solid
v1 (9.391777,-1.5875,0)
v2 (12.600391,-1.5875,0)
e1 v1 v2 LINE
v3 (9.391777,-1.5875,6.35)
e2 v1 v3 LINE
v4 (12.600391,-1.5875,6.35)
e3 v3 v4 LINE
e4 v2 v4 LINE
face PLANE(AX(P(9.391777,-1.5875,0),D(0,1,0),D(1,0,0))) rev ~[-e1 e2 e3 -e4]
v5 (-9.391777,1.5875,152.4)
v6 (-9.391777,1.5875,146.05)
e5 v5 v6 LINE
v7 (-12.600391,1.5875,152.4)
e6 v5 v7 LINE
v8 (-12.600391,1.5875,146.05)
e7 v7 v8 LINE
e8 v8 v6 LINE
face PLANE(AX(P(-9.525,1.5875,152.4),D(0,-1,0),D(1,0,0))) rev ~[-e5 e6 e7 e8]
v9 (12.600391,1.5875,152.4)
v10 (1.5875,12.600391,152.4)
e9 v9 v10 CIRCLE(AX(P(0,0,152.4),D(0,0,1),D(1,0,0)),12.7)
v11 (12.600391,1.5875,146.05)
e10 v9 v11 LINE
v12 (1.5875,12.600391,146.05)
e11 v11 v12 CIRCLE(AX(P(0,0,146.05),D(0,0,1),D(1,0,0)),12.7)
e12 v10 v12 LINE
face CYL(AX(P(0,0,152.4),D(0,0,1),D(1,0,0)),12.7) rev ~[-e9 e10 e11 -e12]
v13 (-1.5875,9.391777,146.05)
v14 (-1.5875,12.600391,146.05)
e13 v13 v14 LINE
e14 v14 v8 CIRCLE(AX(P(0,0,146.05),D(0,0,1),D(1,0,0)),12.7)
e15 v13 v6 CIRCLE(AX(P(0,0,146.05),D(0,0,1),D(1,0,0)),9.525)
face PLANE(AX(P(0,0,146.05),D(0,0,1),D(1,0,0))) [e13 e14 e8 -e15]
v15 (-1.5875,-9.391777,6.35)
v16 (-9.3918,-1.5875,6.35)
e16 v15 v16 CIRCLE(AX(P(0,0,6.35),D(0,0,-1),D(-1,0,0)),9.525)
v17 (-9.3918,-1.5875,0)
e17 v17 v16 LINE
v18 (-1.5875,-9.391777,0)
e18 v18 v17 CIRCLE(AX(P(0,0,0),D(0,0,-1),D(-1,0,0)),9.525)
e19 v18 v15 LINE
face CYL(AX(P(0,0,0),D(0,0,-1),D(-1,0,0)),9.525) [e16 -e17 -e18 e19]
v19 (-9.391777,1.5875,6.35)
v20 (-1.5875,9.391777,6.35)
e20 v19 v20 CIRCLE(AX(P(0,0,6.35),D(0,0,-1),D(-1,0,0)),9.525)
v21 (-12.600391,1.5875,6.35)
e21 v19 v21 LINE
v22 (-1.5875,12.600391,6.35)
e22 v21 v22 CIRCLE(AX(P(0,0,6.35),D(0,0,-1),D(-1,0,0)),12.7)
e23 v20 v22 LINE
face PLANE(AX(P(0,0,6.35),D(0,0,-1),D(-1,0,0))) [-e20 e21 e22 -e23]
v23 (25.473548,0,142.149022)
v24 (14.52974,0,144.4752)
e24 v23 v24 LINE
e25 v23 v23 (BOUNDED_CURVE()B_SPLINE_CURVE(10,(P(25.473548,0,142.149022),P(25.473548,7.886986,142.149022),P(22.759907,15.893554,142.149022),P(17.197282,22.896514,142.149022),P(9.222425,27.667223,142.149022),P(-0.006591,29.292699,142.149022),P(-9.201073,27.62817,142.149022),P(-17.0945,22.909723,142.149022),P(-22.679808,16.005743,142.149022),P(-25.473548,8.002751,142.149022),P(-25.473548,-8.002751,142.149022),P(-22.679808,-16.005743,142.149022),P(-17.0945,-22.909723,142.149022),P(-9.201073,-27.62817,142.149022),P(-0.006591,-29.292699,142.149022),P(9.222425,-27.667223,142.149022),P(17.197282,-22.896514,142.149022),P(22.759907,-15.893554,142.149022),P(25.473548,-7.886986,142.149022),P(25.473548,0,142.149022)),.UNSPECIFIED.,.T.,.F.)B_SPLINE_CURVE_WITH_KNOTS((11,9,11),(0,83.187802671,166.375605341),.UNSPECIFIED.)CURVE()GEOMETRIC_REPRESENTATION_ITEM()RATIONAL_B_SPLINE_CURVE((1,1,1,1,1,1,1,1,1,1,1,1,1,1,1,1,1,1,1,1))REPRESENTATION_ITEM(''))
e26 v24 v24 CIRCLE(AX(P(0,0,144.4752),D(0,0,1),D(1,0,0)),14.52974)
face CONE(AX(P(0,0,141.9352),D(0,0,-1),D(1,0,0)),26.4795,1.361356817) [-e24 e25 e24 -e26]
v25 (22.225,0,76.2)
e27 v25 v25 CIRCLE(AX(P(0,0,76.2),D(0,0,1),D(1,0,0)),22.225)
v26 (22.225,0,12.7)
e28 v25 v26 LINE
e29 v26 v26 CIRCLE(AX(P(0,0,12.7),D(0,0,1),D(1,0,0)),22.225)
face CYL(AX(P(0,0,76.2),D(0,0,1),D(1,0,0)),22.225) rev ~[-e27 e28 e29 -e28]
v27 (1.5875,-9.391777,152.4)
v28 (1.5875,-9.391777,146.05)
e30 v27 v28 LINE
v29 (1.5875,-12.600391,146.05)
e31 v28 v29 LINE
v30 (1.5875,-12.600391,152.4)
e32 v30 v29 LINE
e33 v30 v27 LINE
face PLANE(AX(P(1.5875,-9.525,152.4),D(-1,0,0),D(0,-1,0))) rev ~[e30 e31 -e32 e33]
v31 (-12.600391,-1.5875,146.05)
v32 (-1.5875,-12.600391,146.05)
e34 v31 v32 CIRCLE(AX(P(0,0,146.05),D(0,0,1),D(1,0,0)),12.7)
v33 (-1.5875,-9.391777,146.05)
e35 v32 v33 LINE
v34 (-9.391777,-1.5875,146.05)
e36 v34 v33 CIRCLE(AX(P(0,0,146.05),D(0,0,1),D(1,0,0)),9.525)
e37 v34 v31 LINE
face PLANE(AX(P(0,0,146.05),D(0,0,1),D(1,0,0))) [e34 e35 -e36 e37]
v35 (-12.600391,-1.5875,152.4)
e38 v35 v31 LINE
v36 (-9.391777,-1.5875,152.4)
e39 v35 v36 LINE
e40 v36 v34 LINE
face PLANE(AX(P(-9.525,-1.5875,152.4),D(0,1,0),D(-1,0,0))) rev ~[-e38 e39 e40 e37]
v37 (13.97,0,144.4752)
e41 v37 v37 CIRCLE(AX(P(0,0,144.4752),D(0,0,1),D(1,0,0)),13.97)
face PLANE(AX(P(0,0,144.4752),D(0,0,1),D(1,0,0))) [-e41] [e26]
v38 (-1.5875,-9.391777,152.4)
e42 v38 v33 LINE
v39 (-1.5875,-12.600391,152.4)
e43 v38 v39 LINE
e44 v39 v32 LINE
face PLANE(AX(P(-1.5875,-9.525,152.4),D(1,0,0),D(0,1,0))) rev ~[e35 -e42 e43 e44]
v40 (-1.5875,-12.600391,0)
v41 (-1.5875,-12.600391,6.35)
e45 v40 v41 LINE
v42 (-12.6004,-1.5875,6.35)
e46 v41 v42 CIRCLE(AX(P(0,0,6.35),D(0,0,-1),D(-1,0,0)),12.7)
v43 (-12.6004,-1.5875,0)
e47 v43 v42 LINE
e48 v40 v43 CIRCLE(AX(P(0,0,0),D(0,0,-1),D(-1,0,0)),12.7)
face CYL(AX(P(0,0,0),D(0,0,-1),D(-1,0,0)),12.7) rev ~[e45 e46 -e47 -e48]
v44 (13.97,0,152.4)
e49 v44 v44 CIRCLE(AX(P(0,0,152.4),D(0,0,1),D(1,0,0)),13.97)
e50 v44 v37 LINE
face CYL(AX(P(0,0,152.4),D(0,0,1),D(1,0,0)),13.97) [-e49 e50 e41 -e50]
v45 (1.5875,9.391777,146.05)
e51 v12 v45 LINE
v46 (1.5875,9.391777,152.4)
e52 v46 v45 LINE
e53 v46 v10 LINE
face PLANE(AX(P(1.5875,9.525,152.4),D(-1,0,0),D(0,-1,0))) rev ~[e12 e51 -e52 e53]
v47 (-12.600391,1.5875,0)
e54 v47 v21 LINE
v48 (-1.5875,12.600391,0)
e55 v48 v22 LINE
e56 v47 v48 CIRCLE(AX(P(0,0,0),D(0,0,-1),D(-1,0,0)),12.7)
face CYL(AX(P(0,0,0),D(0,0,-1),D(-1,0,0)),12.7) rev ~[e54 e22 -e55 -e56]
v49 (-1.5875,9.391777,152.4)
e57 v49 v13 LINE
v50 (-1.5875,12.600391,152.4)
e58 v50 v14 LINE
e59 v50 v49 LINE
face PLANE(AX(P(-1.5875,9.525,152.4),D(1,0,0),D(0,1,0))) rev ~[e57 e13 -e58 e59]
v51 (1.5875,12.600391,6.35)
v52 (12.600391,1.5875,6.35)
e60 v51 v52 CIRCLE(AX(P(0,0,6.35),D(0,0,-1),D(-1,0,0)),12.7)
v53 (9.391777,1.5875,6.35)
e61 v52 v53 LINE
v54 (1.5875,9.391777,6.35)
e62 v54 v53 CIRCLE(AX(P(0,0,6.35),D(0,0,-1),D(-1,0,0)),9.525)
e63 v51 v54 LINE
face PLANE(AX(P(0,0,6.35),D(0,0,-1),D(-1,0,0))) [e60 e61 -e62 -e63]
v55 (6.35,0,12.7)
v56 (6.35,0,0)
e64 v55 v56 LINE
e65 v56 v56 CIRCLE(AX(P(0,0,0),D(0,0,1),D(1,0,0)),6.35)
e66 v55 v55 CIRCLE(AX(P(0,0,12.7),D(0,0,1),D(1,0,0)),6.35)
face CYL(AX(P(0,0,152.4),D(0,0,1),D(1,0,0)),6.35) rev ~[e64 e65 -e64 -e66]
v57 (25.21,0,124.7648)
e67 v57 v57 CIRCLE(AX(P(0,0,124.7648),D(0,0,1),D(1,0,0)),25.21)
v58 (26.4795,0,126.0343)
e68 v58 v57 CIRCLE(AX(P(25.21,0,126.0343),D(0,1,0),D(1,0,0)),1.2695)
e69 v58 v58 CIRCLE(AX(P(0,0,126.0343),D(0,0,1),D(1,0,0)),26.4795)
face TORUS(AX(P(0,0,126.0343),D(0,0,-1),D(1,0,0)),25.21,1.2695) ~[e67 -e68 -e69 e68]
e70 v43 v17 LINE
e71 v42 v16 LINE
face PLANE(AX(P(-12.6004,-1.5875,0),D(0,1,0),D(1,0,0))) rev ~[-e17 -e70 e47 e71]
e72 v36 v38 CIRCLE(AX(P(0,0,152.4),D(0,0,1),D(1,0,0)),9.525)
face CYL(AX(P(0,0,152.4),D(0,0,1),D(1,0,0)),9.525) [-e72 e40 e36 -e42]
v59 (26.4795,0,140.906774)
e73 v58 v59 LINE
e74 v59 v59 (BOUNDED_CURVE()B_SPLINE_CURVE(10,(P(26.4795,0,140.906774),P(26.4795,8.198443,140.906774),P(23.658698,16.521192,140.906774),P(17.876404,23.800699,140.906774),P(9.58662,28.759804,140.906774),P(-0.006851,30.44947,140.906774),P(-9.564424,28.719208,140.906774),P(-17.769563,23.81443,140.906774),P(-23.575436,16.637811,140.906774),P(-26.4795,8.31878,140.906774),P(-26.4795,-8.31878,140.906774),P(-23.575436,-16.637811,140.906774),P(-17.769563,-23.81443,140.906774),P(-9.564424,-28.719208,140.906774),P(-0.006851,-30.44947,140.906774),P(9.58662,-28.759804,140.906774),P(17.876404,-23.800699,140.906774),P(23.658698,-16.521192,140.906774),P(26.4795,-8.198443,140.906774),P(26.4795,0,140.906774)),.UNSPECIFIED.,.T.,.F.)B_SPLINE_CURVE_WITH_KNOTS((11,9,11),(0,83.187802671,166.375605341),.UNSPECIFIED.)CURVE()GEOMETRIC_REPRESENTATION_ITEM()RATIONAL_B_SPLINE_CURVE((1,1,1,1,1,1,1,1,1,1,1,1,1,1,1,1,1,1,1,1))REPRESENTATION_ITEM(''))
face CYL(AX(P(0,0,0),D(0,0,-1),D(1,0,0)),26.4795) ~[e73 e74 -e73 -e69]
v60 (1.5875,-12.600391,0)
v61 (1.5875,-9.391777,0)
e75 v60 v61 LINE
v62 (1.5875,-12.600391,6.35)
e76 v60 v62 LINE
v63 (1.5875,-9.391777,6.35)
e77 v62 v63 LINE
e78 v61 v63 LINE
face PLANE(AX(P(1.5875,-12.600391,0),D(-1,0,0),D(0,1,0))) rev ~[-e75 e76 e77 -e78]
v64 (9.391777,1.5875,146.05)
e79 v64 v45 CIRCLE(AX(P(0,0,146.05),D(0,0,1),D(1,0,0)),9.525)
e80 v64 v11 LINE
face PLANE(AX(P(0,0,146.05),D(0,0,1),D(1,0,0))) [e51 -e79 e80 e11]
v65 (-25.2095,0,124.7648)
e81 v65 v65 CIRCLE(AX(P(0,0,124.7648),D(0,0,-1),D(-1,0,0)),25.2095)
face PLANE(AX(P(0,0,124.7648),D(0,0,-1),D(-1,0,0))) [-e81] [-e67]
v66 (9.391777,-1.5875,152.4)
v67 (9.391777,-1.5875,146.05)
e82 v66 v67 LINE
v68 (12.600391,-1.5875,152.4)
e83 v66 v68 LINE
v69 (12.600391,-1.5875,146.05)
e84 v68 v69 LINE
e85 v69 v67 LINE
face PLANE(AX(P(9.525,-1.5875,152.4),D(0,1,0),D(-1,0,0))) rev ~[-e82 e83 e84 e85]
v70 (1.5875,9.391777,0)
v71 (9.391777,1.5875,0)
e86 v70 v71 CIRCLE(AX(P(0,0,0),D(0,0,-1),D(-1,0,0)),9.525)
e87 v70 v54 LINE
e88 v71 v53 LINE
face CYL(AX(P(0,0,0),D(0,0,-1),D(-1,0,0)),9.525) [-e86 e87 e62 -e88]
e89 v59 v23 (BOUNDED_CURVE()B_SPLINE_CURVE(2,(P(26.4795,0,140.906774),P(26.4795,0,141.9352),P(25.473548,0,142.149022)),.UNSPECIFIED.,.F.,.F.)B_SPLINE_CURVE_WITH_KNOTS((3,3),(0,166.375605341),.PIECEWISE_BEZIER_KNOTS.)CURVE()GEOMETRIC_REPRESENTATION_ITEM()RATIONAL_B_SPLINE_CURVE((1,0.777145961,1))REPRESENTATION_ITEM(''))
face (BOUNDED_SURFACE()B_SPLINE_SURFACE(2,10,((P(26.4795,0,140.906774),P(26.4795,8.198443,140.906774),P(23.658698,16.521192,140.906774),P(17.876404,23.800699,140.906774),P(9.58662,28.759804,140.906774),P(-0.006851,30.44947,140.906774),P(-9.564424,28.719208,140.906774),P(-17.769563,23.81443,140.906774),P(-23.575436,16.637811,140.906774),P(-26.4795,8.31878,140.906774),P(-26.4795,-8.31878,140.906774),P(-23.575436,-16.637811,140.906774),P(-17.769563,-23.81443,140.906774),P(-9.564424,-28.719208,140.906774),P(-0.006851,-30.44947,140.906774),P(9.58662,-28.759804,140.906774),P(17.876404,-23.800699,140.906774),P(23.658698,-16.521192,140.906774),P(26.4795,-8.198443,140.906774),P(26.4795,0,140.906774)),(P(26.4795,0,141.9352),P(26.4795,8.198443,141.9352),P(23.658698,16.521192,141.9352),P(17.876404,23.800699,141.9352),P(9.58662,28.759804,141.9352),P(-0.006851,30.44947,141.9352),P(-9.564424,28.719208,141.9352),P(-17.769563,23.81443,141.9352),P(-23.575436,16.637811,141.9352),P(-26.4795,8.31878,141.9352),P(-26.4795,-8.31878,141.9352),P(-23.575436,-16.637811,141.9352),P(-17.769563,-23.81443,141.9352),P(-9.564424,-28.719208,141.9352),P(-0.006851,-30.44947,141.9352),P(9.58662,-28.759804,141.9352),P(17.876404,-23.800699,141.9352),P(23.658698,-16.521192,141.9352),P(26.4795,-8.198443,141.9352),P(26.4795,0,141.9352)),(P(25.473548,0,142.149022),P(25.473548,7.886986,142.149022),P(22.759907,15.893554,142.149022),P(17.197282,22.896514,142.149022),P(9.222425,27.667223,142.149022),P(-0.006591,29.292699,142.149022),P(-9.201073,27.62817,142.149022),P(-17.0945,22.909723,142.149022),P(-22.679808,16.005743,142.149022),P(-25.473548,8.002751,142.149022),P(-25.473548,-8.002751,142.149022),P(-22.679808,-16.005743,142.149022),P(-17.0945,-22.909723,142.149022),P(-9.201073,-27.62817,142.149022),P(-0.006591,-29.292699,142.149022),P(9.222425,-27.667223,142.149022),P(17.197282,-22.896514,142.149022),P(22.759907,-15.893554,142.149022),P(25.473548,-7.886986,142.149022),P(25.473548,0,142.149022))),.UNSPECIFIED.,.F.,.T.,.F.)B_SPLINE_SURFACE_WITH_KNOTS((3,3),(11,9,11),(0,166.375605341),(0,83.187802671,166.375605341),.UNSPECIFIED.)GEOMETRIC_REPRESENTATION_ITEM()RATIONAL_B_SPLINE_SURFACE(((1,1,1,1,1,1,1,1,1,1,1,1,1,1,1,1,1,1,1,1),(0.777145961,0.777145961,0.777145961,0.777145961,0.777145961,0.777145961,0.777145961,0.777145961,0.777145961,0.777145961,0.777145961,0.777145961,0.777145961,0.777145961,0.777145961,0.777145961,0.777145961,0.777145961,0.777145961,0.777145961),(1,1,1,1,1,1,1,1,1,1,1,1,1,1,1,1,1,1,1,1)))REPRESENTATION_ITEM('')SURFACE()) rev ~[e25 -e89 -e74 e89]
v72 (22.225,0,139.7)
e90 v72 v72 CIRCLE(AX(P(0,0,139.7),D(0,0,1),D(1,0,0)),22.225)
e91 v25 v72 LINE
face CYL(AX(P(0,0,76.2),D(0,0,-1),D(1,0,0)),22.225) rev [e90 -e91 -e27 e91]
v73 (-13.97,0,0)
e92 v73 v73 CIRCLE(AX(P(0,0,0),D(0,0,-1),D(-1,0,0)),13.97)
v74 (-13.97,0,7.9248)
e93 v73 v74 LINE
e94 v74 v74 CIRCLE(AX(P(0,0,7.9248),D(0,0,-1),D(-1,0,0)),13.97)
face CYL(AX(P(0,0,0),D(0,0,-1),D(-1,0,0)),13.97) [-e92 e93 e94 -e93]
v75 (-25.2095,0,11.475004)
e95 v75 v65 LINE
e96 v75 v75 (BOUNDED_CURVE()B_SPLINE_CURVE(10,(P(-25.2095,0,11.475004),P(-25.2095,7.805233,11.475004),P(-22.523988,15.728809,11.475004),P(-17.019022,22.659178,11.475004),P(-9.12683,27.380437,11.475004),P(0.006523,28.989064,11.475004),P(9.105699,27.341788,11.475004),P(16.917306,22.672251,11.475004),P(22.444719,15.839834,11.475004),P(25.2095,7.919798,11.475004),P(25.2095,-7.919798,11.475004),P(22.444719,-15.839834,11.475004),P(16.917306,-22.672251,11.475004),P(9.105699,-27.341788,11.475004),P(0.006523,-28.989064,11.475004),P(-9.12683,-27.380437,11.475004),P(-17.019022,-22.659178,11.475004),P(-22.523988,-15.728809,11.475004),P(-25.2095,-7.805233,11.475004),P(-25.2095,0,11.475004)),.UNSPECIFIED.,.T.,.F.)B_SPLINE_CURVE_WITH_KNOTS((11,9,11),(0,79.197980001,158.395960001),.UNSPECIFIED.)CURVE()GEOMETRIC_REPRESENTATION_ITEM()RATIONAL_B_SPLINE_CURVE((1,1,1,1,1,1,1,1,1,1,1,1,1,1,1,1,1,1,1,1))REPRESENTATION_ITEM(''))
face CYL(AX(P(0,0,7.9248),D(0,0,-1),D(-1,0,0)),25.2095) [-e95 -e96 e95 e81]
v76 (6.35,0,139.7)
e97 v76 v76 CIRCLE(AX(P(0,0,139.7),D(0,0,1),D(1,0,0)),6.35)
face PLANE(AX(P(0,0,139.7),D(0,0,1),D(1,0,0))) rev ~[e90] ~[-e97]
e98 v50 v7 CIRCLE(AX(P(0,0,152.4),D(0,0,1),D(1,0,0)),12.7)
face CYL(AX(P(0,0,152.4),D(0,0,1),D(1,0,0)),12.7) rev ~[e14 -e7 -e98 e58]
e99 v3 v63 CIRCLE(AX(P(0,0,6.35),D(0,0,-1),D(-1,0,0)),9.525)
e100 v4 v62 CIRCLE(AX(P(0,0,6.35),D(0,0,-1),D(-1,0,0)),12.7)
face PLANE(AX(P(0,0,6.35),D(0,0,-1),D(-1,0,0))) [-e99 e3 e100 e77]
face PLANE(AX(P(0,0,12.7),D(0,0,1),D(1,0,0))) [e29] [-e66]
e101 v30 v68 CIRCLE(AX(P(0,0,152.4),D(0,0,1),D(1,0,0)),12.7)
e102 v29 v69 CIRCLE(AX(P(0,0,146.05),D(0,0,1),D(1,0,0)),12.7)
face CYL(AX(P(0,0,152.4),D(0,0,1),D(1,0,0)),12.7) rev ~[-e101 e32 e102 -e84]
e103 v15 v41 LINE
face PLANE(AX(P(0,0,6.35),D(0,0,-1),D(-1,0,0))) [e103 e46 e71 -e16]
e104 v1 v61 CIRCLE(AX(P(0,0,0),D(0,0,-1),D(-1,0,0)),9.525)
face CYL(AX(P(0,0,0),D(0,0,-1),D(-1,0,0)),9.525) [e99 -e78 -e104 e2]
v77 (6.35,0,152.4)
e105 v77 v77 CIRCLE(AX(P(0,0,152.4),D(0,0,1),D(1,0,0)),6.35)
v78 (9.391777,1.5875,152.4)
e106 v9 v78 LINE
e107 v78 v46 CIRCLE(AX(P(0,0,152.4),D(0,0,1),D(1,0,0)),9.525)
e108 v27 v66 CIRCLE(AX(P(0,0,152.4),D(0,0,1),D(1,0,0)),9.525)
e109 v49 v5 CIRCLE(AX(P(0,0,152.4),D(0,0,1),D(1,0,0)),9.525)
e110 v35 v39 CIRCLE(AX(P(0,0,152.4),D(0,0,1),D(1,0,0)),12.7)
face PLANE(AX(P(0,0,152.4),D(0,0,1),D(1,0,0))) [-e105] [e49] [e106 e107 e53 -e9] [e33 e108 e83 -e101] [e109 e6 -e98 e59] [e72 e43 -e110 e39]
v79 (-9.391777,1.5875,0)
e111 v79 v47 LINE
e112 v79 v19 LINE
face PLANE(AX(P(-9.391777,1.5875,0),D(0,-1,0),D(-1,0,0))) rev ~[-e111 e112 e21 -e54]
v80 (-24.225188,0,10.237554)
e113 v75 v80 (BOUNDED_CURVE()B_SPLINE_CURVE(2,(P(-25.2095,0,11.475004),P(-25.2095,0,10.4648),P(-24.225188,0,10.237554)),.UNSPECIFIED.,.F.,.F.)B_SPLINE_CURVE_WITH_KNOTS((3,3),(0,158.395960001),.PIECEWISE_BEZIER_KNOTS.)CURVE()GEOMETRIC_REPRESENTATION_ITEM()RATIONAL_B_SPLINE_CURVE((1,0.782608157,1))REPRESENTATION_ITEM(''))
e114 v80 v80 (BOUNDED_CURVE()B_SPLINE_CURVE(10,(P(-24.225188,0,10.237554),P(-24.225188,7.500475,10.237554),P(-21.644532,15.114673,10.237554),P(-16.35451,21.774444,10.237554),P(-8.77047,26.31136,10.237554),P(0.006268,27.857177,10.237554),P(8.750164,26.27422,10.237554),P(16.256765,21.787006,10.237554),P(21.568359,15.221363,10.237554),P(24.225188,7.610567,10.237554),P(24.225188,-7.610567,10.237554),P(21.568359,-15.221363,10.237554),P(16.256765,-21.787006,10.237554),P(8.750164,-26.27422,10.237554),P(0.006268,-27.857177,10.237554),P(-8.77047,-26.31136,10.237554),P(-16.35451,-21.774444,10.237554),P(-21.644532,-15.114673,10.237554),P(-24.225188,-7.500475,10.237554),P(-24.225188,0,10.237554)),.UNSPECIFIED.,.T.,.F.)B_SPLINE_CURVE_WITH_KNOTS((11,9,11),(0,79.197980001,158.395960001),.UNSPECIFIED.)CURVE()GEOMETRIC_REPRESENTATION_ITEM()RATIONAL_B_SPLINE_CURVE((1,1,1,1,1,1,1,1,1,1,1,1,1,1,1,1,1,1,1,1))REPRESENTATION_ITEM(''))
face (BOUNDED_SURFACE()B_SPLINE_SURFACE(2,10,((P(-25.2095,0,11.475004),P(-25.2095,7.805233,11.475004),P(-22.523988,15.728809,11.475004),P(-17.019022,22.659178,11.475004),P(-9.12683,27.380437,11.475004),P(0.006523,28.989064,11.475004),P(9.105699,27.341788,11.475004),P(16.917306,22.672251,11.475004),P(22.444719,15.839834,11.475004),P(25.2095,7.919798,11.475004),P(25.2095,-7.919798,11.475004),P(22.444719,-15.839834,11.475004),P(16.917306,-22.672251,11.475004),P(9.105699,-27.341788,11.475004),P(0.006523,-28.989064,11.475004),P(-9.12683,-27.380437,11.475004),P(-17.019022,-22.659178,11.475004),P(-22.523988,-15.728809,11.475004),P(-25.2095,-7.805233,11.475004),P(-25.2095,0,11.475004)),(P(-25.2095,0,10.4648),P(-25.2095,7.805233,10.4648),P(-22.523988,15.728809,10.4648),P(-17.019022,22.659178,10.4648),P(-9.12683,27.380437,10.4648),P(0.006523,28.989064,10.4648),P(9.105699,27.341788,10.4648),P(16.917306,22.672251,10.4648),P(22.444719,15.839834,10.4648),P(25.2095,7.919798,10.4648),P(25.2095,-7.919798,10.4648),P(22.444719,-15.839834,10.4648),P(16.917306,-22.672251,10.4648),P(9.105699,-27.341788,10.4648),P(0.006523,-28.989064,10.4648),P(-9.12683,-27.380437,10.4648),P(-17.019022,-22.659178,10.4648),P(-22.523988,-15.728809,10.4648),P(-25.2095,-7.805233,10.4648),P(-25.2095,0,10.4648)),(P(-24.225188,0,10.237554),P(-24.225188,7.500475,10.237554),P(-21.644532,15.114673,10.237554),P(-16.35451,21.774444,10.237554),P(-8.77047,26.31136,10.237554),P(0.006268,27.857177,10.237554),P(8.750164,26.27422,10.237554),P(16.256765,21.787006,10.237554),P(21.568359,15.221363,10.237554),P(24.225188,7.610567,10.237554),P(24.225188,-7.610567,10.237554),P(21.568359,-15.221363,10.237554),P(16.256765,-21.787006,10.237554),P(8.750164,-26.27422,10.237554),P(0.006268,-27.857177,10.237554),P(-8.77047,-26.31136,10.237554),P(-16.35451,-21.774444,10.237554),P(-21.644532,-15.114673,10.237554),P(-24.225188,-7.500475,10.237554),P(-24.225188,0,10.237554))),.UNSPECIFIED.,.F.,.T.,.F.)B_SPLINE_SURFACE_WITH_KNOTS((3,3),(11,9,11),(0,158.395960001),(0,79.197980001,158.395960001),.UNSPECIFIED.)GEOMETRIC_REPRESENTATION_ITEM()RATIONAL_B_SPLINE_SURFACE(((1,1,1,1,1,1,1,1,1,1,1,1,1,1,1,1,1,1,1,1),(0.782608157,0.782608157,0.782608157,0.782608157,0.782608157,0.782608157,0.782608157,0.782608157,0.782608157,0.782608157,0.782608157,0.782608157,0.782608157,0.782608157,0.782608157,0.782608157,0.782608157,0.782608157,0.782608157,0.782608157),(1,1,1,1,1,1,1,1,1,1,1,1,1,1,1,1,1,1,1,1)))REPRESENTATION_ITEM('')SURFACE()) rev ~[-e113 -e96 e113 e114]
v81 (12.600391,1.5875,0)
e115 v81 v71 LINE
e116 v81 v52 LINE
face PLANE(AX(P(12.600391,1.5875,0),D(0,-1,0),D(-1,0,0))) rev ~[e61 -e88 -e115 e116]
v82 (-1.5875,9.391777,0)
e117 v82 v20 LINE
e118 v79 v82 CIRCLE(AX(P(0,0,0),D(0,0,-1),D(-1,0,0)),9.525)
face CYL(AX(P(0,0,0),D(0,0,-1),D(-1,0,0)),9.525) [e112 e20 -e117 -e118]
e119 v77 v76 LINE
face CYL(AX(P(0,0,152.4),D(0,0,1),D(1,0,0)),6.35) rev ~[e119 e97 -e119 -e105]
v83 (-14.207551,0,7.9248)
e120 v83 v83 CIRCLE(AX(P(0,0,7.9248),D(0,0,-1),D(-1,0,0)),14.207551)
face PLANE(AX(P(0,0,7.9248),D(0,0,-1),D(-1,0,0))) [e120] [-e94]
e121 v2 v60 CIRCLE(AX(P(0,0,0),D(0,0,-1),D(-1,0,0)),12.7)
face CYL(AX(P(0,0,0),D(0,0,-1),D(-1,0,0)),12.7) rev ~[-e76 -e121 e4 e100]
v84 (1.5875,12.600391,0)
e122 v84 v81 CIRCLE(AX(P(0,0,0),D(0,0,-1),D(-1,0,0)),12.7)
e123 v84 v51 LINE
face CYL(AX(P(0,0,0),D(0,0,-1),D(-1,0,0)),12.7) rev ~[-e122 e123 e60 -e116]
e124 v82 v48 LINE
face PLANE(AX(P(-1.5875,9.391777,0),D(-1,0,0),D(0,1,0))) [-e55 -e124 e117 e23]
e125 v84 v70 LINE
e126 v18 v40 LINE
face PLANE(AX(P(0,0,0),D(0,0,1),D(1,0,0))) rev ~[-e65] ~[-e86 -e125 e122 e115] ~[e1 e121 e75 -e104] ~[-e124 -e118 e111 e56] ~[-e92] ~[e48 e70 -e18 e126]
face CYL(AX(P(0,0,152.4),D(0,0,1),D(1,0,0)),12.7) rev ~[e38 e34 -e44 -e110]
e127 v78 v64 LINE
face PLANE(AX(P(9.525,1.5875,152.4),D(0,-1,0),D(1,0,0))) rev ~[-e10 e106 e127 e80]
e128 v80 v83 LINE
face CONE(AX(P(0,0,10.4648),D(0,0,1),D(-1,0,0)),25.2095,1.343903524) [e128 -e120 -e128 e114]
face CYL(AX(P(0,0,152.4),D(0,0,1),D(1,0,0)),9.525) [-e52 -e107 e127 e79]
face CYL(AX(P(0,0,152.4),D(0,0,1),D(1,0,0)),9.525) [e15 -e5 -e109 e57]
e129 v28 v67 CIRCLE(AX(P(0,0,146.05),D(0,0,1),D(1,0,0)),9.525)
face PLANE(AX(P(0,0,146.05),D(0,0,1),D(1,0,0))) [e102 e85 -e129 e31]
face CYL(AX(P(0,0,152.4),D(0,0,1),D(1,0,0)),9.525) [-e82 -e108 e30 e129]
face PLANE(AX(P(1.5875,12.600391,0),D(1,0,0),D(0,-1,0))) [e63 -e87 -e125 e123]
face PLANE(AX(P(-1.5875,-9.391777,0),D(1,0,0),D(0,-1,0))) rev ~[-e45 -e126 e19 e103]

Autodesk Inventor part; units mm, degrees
ref_plane "YZ Plane" through (0, 0, 0) normal (1, 0, 0) x (0, 1, 0)
ref_plane "XZ Plane" through (0, 0, 0) normal (0, 1, 0) x (-1, 0, 0)
ref_plane "XY Plane" through (0, 0, 0) normal (0, 0, 1) x (1, 0, 0)
sketch "Sketch1" plane through (0, 0, 0) normal (0, 0, 1) x (1, 0, 0)
  circle A0 centre (0, 0) radius 26.4795
  dimension "d0" = 52.959
extrude "Extrusion1" add sketch "Sketch1" along normal blind 152.4
sketch "Sketch2" plane through (0, 0, 152.4) normal (0, 0, 1) x (1, 0, 0)
  circle A0 centre (0, 0) radius 13.97
  circle A1 centre (0, 0) radius 26.4795
  dimension "d3" = 27.94
extrude "Extrusion2" cut sketch "Sketch2" against normal blind 7.9248
sketch "Sketch3" plane through (0, 0, 0) normal (0, 0, -1) x (-1, 0, 0)
  circle A0 centre (0, 0) radius 13.97
  circle A1 centre (0, 0) radius 26.4795
  dimension "d6" = 27.94
extrude "Extrusion3" cut sketch "Sketch3" against normal blind 7.9248
sketch "Sketch4" plane through (0, 0, 7.9248) normal (0, 0, -1) x (-1, 0, 0)
  circle A0 centre (0, 0) radius 13.97 projected
  circle A1 centre (0, 0) radius 25.2095
  circle A2 centre (0, 0) radius 26.4795
  dimension "d9" = 50.419
extrude "Extrusion4" cut sketch "Sketch4" against normal blind 116.84 contours A2
fillet "Fillet1" radius 1.27 1 edges at (-26.4795, 0, 124.7648)
chamfer "Chamfer1" distance 2.54 angle 78 1 edges at (-26.4795, 0, 144.4752) measured on face at (26.3936, -2.1307, 138.3282)
fillet "Fillet2" radius 1.27 1 edges at (-26.4795, 0, 141.9352)
chamfer "Chamfer2" distance 2.54 angle 77 1 edges at (25.2095, 0, 7.9248) measured on face at (-24.883, -4.0439, 85.8181)
fillet "Fillet3" radius 1.27 1 edges at (25.2095, 0, 10.4648)
sketch "Sketch6" plane through (0, 0, 152.4) normal (0, 0, 1) x (1, 0, 0)
  circle A0 centre (0, 0) radius 6.35
  dimension "d23" = 12.7
extrude "Extrusion6" cut sketch "Sketch6" against normal through all
sketch "Sketch7" plane through (0, 0, 7.9248) normal (0, 0, -1) x (-1, 0, 0)
  circle A0 centre (0, 0) radius 22.225
  dimension "d26" = 44.45
sketch "Sketch8" plane through (0, 0, 0) normal (0, 0, -1) x (-1, 0, 0)
  circle A0 centre (0, 0) radius 1.3033
extrude "Extrusion7" add sketch "Sketch8" against normal blind 76.2
sketch "Sketch9" plane through (0, 0, 76.2) normal (0, 0, 1) x (1, 0, 0)
  circle A0 centre (0, 0) radius 1.3033 projected
  circle A1 centre (0, 0) radius 22.225
  dimension "d29" = 44.45
extrude "Extrusion8" cut sketch "Sketch9" along normal blind 63.5 and the other way blind 63.5
sketch "Sketch10" plane through (0, 0, 0) normal (0, 0, -1) x (-1, 0, 0)
  circle A0 centre (0, 0) radius 1.9784
extrude "Extrusion9" cut sketch "Sketch10" against normal through all
thread "Thread1" size "1/2-13 UNC" class "2B" standard "ANSI Unified Screw Threads" length 18.2626
thread "Thread2" size "1/2-13 UNC" class "2B" standard "ANSI Unified Screw Threads" length 18.2626
sketch "Sketch11" plane through (0, 0, 152.4) normal (0, 0, 1) x (1, 0, 0)
  circle A0 centre (0, 0) radius 12.7
  circle A1 centre (0, 0) radius 9.525
  circle A2 centre (0, 9.525) radius 1.5875
  circle A3 centre (9.525, 0) radius 1.5875
  circle A4 centre (0, -9.525) radius 1.5875
  circle A5 centre (-9.525, 0) radius 1.5875
  line L0 (-13.6194, 1.5875) -> (-8.6056, 1.5875)
  line L1 (-8.6056, 1.5875) -> (-8.6056, -1.5875)
  line L2 (-8.6056, -1.5875) -> (-13.6194, -1.5875)
  line L3 (-13.6194, -1.5875) -> (-13.6194, 1.5875)
  line L4 (-13.6194, 1.5875) -> (-8.6056, -1.5875) construction
  line L5 (-8.6056, 1.5875) -> (-13.6194, -1.5875) construction
  line L6 (6.086, 1.5875) -> (12.964, 1.5875)
  line L7 (12.964, 1.5875) -> (12.964, -1.5875)
  line L8 (12.964, -1.5875) -> (6.086, -1.5875)
  line L9 (6.086, -1.5875) -> (6.086, 1.5875)
  line L10 (6.086, 1.5875) -> (12.964, -1.5875) construction
  line L11 (12.964, 1.5875) -> (6.086, -1.5875) construction
  line L12 (-1.5875, -6.1744) -> (1.5875, -6.1744)
  line L13 (1.5875, -6.1744) -> (1.5875, -12.8756)
  line L14 (1.5875, -12.8756) -> (-1.5875, -12.8756)
  line L15 (-1.5875, -12.8756) -> (-1.5875, -6.1744)
  line L16 (-1.5875, -6.1744) -> (1.5875, -12.8756) construction
  line L17 (1.5875, -6.1744) -> (-1.5875, -12.8756) construction
  circle A6 centre (0, 0) radius 6.35 projected
  line L18 (-1.5875, 12.9016) -> (1.5875, 12.9016)
  line L19 (1.5875, 12.9016) -> (1.5875, 6.1484)
  line L20 (1.5875, 6.1484) -> (-1.5875, 6.1484)
  line L21 (-1.5875, 6.1484) -> (-1.5875, 12.9016)
  line L22 (-1.5875, 12.9016) -> (1.5875, 6.1484) construction
  line L23 (1.5875, 12.9016) -> (-1.5875, 6.1484) construction
  point P0 (-11.1125, 0)
  point P1 (-1.5875, -9.3918)
  point P2 (-9.3918, -1.5875)
  point P3 (-12.6004, -1.5875)
  point P4 (-1.5875, -12.6004)
  point P5 (1.5875, -12.6004)
  point P6 (12.6004, -1.5875)
  point P7 (9.3918, -1.5875)
  point P8 (1.5875, -9.3918)
  point P9 (1.5875, 9.3918)
  point P10 (9.3918, 1.5875)
  point P11 (12.6004, 1.5875)
  point P12 (1.5875, 12.6004)
  point P13 (-1.5875, 12.6004)
  point P14 (-12.6004, 1.5875)
  point P15 (-9.3918, 1.5875)
  point P16 (-1.5875, 9.3918)
  dimension "d45" = 3.175
  dimension "d40" = 25.4
  dimension "d41" = 19.05
  dimension "d42" = 3.175
  dimension "d43" = 3.175
  dimension "d44" = 3.175
extrude "Extrusion10" cut sketch "Sketch11" against normal blind 6.35 contours L6 A1 L19 A0 | A0 L13 A1 L8 | L21 A1 L0 A0 | A0 L2 A1 L15
sketch "Sketch12" plane through (0, 0, 0) normal (0, 0, -1) x (-1, 0, 0)
  circle A0 centre (0, 0) radius 12.7
  line L0 (12.6004, -1.5875) -> (9.3918, -1.5875) projected
  circle A1 centre (0, 0) radius 9.525
  line L1 (-1.5875, 5.8819) -> (1.5875, 5.8819)
  line L2 (1.5875, 5.8819) -> (1.5875, 13.1681)
  line L3 (1.5875, 13.1681) -> (-1.5875, 13.1681)
  line L4 (-1.5875, 13.1681) -> (-1.5875, 5.8819)
  line L5 (-1.5875, 5.8819) -> (1.5875, 13.1681) construction
  line L6 (1.5875, 5.8819) -> (-1.5875, 13.1681) construction
  line L7 (5.4881, 1.5875) -> (13.5619, 1.5875)
  line L8 (13.5619, 1.5875) -> (13.5619, -1.5875)
  line L9 (13.5619, -1.5875) -> (5.4881, -1.5875)
  line L10 (5.4881, -1.5875) -> (5.4881, 1.5875)
  line L11 (5.4881, 1.5875) -> (13.5619, -1.5875) construction
  line L12 (13.5619, 1.5875) -> (5.4881, -1.5875) construction
  line L13 (-1.5875, -5.9212) -> (1.5875, -5.9212)
  line L14 (1.5875, -5.9212) -> (1.5875, -13.1288)
  line L15 (1.5875, -13.1288) -> (-1.5875, -13.1288)
  line L16 (-1.5875, -13.1288) -> (-1.5875, -5.9212)
  line L17 (-1.5875, -5.9212) -> (1.5875, -13.1288) construction
  line L18 (1.5875, -5.9212) -> (-1.5875, -13.1288) construction
  line L19 (-12.9783, 1.5875) -> (-6.0717, 1.5875)
  line L20 (-6.0717, 1.5875) -> (-6.0717, -1.5875)
  line L21 (-6.0717, -1.5875) -> (-12.9783, -1.5875)
  line L22 (-12.9783, -1.5875) -> (-12.9783, 1.5875)
  line L23 (-12.9783, 1.5875) -> (-6.0717, -1.5875) construction
  line L24 (-6.0717, 1.5875) -> (-12.9783, -1.5875) construction
  point P0 (0, 9.525)
  point P1 (9.525, 0)
  point P2 (0, -9.525)
  point P3 (-9.525, 0)
  point P4 (1.5875, -9.3918)
  point P5 (1.5875, -12.6004)
  point P6 (-9.3918, -1.5875)
  point P7 (-12.6004, -1.5875)
  point P8 (-1.5875, -12.6004)
  point P9 (-1.5875, -9.3918)
  point P10 (9.3918, 1.5875)
  point P11 (12.6004, 1.5875)
  point P12 (1.5875, 12.6004)
  point P13 (1.5875, 9.3918)
  point P14 (-12.6004, 1.5875)
  point P15 (-9.3918, 1.5875)
  point P16 (-1.5875, 9.3918)
  point P17 (-1.5875, 12.6004)
extrude "Extrusion11" cut sketch "Sketch12" against normal blind 6.35 contours A0 L14 A1 L0 | L7 A1 L2 A0 | A0 L21 A1 L16 | L4 A1 L19 A0
properties part number "2x6 Air Tank"
